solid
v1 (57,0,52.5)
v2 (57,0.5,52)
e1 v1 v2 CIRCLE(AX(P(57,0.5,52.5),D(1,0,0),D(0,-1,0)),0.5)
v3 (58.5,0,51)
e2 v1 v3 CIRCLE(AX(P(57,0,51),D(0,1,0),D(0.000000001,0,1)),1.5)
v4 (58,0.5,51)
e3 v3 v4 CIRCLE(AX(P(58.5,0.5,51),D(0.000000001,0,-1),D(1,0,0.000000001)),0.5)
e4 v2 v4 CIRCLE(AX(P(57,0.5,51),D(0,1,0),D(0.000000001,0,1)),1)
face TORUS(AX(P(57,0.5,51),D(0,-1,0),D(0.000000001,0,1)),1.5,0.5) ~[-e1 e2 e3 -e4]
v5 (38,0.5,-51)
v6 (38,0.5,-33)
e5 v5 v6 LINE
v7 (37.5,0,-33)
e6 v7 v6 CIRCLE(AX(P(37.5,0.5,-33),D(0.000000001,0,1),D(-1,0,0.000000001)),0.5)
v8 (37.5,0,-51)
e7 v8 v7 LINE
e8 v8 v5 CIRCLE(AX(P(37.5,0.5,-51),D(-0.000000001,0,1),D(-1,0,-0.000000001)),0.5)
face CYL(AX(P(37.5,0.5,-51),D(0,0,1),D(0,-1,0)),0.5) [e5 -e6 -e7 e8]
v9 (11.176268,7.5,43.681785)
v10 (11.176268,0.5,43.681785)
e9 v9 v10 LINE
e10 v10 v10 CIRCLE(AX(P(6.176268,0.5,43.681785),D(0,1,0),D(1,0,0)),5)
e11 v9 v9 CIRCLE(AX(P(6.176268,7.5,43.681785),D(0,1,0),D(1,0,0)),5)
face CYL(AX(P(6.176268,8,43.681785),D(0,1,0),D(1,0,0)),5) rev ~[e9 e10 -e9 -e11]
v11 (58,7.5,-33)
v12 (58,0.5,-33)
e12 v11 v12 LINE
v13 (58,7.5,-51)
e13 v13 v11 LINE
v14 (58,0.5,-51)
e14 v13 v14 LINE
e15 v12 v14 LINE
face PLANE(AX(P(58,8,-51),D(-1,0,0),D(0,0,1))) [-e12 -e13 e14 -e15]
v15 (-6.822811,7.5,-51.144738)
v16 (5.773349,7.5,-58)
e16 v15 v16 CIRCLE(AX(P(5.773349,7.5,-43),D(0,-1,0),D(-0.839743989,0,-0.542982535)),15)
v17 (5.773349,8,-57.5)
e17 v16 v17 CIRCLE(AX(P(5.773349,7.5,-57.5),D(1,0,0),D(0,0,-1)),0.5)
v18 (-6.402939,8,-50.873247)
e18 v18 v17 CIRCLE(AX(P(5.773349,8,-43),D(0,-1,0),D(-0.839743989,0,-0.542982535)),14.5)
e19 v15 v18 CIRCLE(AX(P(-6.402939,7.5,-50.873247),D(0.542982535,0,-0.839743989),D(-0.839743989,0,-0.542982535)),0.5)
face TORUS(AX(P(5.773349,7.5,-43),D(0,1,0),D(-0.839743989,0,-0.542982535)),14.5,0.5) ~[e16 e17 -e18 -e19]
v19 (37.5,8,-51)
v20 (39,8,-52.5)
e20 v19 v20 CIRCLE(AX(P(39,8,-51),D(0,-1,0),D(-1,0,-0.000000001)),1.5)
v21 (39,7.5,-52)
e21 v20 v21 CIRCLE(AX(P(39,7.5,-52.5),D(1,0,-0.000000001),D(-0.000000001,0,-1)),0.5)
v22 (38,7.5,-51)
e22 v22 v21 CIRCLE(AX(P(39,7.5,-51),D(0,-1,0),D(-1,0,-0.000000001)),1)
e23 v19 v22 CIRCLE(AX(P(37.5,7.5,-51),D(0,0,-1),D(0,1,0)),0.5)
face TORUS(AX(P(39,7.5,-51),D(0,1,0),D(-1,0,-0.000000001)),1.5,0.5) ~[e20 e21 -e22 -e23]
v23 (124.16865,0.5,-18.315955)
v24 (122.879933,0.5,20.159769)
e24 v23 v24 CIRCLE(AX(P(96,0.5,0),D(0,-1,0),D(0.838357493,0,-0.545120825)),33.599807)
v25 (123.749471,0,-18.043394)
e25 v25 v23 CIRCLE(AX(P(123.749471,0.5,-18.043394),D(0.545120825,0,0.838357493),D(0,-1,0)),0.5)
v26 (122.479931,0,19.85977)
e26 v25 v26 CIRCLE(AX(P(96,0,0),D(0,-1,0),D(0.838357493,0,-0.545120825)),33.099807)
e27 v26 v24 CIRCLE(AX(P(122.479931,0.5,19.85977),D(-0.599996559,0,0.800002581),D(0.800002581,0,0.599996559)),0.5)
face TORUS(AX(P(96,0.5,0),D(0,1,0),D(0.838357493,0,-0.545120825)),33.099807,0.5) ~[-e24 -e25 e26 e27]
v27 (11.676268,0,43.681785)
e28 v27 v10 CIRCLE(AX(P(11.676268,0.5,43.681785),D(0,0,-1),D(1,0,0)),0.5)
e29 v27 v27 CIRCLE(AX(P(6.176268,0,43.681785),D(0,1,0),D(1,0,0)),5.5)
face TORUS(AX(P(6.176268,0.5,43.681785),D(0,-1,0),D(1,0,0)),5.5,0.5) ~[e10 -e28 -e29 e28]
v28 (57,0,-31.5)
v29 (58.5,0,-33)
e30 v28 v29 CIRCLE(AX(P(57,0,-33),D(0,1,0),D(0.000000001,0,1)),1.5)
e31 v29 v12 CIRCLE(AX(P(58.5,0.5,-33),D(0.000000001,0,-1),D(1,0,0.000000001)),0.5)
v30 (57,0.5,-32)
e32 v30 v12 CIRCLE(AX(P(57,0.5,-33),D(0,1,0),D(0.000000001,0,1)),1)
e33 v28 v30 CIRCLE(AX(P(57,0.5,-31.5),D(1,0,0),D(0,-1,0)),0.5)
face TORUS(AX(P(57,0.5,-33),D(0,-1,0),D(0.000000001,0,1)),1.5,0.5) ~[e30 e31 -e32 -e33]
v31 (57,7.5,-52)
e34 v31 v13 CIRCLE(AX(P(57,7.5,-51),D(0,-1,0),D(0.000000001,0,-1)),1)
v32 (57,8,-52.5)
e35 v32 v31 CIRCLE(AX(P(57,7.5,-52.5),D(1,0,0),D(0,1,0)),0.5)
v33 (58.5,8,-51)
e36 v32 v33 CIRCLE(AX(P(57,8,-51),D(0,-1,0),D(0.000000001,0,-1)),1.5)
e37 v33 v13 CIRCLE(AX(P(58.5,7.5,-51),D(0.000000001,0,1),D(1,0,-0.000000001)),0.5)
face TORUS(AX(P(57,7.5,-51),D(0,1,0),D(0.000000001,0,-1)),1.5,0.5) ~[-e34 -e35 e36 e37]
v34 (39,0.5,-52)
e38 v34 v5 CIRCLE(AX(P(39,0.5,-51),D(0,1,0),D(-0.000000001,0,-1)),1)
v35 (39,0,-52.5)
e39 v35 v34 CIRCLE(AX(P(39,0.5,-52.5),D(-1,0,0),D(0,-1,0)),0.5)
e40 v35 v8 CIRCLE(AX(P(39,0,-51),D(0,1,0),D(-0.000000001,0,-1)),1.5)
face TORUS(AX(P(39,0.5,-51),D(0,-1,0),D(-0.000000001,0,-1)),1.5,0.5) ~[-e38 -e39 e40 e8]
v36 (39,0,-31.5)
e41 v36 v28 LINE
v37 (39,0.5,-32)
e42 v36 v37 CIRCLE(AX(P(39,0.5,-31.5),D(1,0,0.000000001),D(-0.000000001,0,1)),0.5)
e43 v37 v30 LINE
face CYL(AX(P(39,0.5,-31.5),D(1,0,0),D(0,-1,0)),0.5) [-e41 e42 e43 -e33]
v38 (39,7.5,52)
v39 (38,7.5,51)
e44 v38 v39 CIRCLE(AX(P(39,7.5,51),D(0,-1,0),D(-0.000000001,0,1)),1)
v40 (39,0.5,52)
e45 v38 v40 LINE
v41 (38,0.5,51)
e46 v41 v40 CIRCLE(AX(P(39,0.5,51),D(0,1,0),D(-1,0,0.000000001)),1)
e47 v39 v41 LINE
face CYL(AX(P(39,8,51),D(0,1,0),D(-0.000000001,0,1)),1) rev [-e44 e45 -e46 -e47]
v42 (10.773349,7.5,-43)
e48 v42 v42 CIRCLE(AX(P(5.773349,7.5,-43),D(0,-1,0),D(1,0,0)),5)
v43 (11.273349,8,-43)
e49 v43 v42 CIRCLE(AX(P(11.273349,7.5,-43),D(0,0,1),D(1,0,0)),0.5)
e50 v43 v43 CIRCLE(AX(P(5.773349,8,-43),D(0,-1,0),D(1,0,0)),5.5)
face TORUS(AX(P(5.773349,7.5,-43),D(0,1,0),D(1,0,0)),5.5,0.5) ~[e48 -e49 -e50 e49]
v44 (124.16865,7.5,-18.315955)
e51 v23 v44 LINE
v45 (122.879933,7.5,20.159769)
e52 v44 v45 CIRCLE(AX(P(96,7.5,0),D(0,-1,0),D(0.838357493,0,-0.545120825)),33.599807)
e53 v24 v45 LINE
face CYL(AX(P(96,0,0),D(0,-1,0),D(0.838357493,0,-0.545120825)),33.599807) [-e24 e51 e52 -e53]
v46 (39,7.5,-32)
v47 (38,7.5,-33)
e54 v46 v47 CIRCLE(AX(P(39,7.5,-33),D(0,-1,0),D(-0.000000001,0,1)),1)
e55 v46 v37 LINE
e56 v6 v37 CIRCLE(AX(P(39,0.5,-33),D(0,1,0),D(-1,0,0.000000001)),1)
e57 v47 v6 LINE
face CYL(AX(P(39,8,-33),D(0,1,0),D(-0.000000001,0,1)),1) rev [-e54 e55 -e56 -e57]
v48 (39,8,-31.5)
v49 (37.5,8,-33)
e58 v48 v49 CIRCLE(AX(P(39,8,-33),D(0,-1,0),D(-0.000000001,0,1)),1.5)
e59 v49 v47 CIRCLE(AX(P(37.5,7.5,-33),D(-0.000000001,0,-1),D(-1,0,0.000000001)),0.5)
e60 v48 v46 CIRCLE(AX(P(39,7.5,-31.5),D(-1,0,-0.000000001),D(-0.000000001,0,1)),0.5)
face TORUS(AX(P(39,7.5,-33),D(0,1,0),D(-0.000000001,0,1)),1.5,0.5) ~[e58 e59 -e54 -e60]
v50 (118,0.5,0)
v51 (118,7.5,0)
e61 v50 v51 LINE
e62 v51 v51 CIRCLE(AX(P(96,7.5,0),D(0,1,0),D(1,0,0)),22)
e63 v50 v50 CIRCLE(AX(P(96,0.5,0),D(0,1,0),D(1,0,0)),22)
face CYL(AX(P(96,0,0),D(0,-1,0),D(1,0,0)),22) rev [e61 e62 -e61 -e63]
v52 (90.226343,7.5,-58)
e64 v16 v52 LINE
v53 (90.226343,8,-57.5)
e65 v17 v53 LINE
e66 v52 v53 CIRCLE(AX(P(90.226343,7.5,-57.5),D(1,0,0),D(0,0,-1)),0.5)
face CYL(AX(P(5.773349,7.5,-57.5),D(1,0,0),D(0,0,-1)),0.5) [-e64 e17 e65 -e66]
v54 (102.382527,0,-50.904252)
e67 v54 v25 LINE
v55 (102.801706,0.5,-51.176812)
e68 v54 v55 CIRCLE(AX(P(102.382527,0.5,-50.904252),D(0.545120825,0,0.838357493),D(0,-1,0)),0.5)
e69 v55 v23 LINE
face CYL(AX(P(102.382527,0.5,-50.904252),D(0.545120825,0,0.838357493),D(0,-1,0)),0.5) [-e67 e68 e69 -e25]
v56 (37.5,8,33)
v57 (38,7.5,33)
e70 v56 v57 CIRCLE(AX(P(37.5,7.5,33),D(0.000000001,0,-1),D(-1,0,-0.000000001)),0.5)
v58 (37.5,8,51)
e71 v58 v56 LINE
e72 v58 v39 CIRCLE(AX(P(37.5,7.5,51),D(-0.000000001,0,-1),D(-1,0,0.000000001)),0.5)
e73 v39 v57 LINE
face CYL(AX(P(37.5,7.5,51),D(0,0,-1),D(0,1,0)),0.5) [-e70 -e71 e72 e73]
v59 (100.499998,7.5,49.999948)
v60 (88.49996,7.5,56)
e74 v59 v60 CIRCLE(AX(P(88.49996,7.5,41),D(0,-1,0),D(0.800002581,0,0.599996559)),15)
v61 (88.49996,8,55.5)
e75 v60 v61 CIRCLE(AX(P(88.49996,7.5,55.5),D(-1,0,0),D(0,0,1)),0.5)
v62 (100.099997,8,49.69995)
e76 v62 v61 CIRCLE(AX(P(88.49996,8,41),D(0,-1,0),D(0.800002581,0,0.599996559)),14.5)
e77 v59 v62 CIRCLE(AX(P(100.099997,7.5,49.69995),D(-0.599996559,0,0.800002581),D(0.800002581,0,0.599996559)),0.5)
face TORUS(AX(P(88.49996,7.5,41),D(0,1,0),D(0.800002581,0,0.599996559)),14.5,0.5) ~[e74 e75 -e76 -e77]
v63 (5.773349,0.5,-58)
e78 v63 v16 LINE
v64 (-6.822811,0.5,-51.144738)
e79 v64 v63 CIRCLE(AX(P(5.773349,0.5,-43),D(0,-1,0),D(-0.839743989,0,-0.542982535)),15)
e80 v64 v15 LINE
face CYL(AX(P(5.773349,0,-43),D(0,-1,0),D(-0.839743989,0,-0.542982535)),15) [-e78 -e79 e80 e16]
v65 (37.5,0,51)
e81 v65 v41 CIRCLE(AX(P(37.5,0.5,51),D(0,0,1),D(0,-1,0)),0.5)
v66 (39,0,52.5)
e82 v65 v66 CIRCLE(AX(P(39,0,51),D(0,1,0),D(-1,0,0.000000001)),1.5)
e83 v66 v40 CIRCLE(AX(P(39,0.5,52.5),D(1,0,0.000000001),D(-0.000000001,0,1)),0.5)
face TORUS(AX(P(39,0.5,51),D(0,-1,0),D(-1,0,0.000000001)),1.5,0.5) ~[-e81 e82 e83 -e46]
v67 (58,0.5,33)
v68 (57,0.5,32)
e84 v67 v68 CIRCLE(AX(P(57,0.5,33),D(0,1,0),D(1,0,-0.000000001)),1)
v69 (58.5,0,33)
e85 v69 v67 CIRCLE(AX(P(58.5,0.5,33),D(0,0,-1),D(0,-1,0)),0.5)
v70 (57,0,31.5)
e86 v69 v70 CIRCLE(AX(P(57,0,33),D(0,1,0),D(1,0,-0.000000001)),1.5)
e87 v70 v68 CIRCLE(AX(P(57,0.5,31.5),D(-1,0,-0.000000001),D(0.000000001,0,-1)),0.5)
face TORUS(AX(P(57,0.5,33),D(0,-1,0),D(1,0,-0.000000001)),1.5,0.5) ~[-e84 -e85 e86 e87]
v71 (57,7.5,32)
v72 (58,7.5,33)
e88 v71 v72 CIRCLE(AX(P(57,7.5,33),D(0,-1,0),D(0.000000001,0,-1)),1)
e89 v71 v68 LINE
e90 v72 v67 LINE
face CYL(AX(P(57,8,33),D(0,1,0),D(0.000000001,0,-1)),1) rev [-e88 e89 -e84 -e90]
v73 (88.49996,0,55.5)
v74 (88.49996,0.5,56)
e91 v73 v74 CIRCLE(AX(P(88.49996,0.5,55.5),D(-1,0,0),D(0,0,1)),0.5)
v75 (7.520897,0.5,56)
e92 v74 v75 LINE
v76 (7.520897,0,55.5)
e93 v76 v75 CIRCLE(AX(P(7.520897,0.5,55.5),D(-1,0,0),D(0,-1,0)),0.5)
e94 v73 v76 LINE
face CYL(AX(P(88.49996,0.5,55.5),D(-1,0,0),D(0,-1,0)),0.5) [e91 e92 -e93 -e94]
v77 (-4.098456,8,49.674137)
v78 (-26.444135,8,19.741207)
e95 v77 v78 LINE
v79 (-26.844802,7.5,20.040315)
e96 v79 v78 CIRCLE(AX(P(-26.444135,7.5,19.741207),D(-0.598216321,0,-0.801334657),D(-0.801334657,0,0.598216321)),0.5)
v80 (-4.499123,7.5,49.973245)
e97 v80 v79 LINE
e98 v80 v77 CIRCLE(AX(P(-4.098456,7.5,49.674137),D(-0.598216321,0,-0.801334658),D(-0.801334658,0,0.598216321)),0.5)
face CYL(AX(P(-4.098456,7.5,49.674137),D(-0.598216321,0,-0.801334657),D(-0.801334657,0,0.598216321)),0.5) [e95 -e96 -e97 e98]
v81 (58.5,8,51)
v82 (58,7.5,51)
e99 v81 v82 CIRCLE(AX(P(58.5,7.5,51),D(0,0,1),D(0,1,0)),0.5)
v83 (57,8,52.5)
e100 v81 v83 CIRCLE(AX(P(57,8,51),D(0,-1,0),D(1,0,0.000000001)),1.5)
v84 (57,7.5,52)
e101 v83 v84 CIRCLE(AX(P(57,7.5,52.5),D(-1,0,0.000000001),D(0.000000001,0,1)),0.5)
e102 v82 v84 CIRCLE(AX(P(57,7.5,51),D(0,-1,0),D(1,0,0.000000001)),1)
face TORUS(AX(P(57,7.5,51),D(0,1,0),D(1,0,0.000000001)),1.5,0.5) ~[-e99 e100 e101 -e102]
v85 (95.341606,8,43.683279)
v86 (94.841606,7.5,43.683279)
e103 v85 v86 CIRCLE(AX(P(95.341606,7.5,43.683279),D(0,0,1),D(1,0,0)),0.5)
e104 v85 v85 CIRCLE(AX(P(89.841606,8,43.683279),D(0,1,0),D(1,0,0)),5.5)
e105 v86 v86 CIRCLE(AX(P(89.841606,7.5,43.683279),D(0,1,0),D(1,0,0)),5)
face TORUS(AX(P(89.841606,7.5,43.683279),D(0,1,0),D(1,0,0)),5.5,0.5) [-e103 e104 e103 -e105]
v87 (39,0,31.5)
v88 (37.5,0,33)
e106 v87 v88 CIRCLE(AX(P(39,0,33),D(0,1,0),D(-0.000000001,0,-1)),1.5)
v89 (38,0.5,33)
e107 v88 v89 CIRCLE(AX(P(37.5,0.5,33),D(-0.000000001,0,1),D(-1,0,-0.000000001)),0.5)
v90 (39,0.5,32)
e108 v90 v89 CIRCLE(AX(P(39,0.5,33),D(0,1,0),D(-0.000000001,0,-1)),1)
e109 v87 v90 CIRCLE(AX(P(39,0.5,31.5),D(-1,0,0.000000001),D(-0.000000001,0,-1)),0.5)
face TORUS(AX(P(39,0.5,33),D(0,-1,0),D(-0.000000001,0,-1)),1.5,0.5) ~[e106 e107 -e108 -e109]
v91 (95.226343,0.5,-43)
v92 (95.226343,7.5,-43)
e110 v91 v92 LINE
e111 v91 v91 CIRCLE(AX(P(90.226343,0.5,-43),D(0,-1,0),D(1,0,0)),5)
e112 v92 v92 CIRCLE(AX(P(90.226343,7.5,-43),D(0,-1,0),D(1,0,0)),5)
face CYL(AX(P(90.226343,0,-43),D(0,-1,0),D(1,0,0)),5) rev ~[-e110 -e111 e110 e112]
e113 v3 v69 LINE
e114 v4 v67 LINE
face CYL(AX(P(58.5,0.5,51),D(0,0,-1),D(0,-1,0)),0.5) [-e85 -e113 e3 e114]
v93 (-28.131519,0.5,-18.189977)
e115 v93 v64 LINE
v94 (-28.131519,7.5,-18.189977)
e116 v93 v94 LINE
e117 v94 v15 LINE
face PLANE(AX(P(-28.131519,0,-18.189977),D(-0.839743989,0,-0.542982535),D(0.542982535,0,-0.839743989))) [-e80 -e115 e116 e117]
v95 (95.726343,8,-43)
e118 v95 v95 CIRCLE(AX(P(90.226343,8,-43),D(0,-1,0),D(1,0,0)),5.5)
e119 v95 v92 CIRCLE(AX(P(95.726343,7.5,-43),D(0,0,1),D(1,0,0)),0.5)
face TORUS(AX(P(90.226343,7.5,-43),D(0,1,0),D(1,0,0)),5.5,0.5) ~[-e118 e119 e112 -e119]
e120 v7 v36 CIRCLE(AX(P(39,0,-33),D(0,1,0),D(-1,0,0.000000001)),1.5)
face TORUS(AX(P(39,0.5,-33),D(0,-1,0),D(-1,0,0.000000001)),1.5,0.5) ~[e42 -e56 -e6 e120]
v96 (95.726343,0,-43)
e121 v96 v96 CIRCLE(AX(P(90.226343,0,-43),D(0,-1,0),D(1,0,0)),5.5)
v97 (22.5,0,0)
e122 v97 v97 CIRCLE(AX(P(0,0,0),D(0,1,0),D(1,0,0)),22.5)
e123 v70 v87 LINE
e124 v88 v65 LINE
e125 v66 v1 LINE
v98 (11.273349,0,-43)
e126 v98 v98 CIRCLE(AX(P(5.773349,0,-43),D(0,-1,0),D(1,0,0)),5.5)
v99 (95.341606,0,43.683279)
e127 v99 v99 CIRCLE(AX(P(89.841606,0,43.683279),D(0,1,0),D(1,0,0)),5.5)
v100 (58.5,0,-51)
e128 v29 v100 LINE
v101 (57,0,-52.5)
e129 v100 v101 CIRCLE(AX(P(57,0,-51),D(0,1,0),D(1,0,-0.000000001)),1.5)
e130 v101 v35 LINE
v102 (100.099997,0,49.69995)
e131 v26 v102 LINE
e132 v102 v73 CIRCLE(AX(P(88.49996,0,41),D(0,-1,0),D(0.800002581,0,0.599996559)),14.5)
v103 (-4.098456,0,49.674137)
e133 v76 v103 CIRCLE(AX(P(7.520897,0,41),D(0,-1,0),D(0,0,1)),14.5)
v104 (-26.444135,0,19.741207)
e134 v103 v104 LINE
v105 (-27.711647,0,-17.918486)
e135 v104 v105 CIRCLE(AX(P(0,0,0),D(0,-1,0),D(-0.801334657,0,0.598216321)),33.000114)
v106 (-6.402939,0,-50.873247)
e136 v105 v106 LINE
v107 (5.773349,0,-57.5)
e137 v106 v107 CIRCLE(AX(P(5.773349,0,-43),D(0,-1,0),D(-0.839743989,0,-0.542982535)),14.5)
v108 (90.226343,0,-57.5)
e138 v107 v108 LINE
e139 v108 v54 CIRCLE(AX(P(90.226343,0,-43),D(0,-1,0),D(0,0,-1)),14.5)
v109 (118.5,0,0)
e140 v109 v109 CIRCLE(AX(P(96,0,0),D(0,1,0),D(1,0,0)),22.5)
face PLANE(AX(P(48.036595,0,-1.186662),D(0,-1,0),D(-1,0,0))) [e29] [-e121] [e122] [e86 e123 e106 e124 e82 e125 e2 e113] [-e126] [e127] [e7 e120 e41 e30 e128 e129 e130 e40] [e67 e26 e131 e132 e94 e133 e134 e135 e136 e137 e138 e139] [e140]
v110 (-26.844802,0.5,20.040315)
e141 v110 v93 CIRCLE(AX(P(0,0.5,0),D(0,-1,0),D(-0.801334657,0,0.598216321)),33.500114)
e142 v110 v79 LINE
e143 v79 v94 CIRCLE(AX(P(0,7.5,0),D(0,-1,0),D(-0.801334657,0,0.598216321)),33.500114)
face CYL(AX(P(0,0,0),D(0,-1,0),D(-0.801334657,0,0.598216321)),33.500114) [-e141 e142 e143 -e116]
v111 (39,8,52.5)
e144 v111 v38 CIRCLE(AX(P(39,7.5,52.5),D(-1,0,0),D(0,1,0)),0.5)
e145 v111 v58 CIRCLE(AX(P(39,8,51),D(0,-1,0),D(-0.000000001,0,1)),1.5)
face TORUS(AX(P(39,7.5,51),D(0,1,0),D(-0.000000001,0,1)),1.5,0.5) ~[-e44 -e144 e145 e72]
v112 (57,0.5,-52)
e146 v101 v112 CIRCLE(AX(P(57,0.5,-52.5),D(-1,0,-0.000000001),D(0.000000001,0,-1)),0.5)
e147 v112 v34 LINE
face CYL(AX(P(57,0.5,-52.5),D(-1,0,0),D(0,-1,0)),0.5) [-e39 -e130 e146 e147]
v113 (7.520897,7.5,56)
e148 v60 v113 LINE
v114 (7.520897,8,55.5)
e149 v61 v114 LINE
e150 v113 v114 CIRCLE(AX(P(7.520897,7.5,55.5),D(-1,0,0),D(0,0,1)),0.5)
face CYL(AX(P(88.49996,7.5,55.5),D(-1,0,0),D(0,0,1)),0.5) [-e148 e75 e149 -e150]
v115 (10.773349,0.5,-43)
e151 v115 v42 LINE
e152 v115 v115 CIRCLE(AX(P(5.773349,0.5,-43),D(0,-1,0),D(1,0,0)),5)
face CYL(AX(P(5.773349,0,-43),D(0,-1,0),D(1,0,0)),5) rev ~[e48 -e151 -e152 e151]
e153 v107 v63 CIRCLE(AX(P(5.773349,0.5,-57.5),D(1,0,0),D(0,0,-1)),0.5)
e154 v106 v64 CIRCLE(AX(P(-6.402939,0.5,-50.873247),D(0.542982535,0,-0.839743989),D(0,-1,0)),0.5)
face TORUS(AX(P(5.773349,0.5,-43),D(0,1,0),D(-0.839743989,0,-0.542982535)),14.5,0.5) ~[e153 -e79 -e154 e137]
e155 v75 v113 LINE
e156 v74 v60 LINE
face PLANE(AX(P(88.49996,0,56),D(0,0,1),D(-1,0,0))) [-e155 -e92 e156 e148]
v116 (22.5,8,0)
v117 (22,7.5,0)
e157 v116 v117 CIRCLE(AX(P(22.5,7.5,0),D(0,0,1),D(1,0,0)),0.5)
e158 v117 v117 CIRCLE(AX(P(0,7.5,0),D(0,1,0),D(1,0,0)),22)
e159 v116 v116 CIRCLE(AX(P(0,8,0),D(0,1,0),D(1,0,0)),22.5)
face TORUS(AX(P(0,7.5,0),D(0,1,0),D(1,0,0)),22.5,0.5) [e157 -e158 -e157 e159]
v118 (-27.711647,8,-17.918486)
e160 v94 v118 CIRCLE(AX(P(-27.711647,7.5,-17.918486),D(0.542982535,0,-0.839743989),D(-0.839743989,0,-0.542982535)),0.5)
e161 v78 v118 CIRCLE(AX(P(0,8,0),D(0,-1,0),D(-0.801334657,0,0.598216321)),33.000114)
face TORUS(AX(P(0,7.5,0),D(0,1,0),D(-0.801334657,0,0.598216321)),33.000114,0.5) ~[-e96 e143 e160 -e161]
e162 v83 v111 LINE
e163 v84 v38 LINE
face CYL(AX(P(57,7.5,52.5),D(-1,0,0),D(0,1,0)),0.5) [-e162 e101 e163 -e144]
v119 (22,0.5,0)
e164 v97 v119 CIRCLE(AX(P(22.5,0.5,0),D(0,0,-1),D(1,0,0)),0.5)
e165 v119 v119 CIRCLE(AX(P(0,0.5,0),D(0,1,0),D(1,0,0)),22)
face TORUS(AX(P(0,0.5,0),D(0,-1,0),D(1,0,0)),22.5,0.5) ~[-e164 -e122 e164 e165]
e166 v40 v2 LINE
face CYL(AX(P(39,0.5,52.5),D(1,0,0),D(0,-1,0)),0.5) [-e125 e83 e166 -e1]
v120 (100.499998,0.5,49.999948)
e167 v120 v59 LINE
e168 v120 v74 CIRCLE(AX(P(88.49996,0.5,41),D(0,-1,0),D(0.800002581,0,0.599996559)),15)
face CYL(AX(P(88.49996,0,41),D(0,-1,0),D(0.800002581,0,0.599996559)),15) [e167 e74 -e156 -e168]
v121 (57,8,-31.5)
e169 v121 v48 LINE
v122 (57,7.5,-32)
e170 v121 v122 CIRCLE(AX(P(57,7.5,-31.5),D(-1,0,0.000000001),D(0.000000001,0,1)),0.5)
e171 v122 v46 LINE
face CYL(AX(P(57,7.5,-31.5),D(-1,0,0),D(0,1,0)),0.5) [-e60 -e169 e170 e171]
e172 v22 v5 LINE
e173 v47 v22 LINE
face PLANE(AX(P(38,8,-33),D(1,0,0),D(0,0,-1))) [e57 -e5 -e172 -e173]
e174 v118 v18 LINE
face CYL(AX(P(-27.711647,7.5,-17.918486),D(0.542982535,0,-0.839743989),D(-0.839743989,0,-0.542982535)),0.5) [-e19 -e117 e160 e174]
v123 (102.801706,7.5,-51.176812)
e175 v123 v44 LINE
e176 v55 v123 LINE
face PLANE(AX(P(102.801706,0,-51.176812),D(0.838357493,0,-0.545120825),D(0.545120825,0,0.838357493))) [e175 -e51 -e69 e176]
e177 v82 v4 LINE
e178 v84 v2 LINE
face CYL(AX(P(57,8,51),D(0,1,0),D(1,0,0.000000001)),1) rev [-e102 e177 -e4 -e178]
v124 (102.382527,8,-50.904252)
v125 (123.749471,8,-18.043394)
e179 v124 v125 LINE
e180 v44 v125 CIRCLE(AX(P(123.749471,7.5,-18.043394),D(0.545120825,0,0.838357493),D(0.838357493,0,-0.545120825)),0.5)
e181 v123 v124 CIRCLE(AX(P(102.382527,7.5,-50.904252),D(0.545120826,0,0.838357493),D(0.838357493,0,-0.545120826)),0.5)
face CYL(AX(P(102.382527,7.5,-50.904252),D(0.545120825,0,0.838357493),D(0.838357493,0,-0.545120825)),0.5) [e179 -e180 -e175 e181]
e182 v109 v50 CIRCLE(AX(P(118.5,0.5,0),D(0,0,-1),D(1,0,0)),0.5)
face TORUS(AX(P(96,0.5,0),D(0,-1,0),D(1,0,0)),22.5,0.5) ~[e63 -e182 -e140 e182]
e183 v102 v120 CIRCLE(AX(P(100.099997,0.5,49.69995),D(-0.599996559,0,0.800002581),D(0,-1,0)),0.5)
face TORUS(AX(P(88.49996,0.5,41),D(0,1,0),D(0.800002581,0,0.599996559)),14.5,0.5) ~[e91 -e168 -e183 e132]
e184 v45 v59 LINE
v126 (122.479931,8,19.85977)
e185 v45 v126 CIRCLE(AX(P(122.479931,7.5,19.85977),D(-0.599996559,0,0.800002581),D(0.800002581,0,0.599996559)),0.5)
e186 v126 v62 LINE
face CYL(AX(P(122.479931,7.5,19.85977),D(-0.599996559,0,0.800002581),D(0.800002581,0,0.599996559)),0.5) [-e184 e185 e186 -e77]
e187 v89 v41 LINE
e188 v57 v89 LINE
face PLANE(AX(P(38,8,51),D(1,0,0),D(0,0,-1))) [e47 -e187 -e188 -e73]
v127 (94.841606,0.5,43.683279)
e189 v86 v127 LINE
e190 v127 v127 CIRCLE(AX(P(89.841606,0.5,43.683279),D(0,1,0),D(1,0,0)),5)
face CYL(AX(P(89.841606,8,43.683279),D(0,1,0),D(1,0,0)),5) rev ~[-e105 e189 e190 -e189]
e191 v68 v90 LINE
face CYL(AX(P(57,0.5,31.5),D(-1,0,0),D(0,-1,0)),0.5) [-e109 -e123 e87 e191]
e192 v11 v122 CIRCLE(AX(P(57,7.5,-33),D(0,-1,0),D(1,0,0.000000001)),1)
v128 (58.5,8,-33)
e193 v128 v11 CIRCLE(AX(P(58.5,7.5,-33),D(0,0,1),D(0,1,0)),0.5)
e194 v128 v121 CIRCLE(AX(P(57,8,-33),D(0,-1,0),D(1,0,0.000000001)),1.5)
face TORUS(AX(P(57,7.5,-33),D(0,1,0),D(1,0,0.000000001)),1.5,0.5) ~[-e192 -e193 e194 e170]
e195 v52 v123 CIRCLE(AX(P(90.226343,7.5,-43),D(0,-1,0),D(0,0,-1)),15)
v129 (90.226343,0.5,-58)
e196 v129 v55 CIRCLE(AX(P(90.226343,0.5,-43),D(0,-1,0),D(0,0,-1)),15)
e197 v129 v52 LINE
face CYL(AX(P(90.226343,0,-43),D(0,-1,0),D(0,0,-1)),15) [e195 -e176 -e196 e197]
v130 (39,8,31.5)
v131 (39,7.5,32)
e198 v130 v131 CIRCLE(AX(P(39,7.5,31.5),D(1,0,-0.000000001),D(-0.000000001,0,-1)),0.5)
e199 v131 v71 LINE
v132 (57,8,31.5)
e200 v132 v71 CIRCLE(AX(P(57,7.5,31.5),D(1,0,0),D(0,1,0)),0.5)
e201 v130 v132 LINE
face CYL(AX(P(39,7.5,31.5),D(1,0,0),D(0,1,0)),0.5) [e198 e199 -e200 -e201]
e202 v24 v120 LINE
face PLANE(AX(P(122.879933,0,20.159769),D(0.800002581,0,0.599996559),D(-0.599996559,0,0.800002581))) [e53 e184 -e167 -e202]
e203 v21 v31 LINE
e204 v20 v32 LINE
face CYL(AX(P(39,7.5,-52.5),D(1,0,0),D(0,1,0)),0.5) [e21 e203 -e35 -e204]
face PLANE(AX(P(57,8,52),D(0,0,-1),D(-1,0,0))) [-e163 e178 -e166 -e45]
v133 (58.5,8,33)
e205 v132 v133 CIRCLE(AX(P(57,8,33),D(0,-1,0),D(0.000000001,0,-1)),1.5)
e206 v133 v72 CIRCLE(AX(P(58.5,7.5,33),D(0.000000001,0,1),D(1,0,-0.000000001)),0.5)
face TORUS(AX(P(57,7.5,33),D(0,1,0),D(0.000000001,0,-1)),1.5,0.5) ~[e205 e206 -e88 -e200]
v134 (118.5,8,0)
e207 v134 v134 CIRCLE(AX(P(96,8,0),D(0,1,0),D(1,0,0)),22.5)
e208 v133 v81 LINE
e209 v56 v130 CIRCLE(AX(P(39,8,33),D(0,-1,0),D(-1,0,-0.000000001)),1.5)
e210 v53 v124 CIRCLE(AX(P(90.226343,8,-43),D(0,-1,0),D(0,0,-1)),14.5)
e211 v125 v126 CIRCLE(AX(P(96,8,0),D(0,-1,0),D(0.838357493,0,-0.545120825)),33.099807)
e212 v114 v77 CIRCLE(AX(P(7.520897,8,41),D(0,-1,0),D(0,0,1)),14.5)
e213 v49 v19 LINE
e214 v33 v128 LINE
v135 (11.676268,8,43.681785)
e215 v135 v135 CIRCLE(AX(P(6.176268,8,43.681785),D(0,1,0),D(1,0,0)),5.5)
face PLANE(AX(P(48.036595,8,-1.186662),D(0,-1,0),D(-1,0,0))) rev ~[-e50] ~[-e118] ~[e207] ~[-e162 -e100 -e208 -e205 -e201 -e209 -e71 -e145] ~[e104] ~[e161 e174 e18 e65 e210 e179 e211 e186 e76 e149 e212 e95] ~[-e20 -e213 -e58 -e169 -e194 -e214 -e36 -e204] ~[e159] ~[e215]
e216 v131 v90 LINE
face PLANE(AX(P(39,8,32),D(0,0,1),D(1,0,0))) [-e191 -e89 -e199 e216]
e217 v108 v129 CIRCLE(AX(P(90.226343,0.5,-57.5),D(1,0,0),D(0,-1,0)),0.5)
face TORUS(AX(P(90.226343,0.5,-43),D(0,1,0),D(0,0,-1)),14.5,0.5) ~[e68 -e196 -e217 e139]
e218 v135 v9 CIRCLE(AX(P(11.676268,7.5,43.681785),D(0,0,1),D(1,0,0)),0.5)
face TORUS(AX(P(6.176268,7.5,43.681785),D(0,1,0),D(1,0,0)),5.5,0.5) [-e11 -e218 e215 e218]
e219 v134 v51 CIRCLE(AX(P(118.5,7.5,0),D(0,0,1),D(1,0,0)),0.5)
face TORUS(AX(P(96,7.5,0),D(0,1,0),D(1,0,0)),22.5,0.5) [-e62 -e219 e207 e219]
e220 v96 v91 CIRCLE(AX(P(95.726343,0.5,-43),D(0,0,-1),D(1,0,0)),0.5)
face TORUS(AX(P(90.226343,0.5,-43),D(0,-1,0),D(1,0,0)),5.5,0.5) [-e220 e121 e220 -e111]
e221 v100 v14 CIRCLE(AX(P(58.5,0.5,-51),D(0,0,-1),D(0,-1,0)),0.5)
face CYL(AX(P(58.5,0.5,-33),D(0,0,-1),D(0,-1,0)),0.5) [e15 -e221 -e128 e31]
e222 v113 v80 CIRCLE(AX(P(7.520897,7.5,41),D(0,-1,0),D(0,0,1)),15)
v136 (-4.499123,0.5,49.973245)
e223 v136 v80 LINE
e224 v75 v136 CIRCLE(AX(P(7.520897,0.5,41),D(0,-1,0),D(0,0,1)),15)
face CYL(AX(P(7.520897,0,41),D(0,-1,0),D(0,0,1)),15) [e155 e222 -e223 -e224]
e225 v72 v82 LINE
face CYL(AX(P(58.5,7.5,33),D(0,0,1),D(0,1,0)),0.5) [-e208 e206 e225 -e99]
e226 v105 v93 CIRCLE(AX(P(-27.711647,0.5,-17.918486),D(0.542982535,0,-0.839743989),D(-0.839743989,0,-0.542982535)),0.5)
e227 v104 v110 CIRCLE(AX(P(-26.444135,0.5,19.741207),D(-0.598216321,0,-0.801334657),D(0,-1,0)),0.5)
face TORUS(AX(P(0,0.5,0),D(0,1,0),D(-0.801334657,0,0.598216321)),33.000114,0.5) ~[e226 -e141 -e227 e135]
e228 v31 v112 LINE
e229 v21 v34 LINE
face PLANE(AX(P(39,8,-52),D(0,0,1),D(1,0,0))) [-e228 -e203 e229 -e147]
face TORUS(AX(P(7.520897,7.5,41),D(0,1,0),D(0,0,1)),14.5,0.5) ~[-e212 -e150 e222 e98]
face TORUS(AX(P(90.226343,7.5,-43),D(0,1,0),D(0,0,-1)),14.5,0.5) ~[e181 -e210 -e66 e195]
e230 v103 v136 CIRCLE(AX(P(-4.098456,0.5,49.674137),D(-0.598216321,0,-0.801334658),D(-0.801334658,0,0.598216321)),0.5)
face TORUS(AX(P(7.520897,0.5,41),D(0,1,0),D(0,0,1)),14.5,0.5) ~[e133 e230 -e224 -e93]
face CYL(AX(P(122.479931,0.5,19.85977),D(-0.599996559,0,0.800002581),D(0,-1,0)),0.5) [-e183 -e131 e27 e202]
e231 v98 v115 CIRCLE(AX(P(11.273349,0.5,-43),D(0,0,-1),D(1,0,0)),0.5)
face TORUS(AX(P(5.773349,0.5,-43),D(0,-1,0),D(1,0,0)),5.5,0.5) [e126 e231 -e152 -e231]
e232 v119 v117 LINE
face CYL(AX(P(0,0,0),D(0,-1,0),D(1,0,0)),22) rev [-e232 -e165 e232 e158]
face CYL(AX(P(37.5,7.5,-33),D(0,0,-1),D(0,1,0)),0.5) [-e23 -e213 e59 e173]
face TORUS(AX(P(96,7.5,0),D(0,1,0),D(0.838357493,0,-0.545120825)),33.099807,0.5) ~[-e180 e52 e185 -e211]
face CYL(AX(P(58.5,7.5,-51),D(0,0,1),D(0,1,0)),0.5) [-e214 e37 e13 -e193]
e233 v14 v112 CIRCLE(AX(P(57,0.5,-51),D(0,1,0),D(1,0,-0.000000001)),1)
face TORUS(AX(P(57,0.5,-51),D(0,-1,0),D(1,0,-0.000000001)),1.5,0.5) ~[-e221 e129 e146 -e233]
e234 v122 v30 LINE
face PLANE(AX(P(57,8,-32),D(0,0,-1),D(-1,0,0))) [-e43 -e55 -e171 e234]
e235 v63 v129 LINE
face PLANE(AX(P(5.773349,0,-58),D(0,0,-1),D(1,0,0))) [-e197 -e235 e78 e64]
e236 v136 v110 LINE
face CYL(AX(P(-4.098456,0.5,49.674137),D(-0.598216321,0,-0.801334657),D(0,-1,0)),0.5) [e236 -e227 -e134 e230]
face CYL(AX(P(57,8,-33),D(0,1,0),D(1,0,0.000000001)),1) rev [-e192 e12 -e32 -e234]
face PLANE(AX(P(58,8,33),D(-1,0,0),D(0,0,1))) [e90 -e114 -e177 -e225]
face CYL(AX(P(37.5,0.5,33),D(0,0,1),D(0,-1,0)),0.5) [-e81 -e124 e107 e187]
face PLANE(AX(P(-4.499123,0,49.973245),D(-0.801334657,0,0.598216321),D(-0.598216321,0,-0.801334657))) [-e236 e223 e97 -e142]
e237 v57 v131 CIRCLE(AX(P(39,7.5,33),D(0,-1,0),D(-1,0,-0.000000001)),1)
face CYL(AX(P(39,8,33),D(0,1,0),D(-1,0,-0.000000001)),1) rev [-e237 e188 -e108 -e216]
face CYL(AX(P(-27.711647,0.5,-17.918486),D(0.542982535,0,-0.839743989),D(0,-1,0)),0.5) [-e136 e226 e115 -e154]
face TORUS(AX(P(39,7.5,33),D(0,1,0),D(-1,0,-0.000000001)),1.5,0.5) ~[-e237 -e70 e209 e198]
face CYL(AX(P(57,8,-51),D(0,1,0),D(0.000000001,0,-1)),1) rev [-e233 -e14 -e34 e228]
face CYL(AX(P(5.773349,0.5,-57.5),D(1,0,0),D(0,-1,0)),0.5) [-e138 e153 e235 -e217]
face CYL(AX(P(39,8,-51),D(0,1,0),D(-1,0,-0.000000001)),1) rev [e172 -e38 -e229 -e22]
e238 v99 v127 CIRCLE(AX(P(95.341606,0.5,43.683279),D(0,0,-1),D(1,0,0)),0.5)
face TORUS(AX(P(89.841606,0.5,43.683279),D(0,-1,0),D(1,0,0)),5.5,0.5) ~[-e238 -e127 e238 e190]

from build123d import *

# Parameters (mm, degrees)
SKETCH_1_R          = 22
EXTRUDE_1_DEPTH     = 8
SKETCH_2_R          = 5
CUT_EXTRUDE_1_DEPTH = 9
SKETCH_4_R          = 5
CUT_EXTRUDE_2_DEPTH = 9
CUT_EXTRUDE_3_DEPTH = 9
FILLET_1_R          = 0.5


with BuildPart() as part:
    # 草图1 → 凸台-拉伸1 (new body)
    with BuildSketch(Plane(origin=(0, 0, 0), x_dir=(1, 0, 0), z_dir=(0, 1, 0))):
        with BuildLine():
            Line((5.773348871, 58), (90.226343487, 58))
            ThreePointArc((90.226343487, 58), (97.379937488, 56.184312377), (102.801705878, 51.176812382))
            Line((102.801705878, 51.176812382), (124.168650202, 18.315954689))
            ThreePointArc((124.168650202, 18.315954689), (129.580975857, -1.124771476), (122.879932553, -20.159768757))
            Line((122.879932553, -20.159768757), (100.499998387, -49.999948383))
            ThreePointArc((100.499998387, -49.999948383), (95.208192461, -54.416393438), (88.499959674, -56))
            Line((88.499959674, -56), (7.520896703, -56))
            ThreePointArc((7.520896703, -56), (0.797752805, -54.408927479), (-4.499123157, -49.973244817))
            Line((-4.499123157, -49.973244817), (-26.844802361, -20.040314944))
            ThreePointArc((-26.844802361, -20.040314944), (-33.481155729, -1.126875307), (-28.131519346, 18.189976804))
            Line((-28.131519346, 18.189976804), (-6.822810963, 51.144738021))
            ThreePointArc((-6.822810963, 51.144738021), (-1.397039183, 56.175186342), (5.773348871, 58))
        make_face()
        Circle(SKETCH_1_R, mode=Mode.SUBTRACT)
        with Locations((96, 0)):
            Circle(SKETCH_1_R, mode=Mode.SUBTRACT)
    extrude(amount=EXTRUDE_1_DEPTH)

    # 草图2 → 切除-拉伸1 (cut, through all)
    with BuildSketch(Plane.XZ):
        with Locations((5.773348871, -43)):
            Circle(SKETCH_2_R)
        with Locations((90.226343487, -43)):
            Circle(SKETCH_2_R)
    extrude(amount=-CUT_EXTRUDE_1_DEPTH, mode=Mode.SUBTRACT)

    # 草图4 → 切除-拉伸2 (cut, through all)
    with BuildSketch(Plane(origin=(0, 8, 0), x_dir=(1, 0, 0), z_dir=(0, 1, 0))):
        with Locations((6.176267924, -43.681785496)):
            Circle(SKETCH_4_R)
        with Locations((89.841606232, -43.683278688)):
            Circle(SKETCH_4_R)
    extrude(amount=-CUT_EXTRUDE_2_DEPTH, mode=Mode.SUBTRACT)

    # 草图5 → 切除-拉伸3 (cut, through all)
    with BuildSketch(Plane(origin=(0, 8, 0), x_dir=(1, 0, 0), z_dir=(0, 1, 0))):
        with BuildLine():
            Line((39, -32), (57, -32))
            ThreePointArc((57, -32), (57.707106781, -32.292893219), (58, -33))
            Line((58, -33), (58, -51))
            ThreePointArc((58, -51), (57.707106781, -51.707106781), (57, -52))
            Line((57, -52), (39, -52))
            ThreePointArc((39, -52), (38.292893219, -51.707106781), (38, -51))
            Line((38, -51), (38, -33))
            ThreePointArc((38, -33), (38.292893219, -32.292893219), (39, -32))
        make_face()
        with BuildLine():
            Line((39, 52), (57, 52))
            ThreePointArc((57, 52), (57.707106781, 51.707106781), (58, 51))
            Line((58, 51), (58, 33))
            ThreePointArc((58, 33), (57.707106781, 32.292893219), (57, 32))
            Line((57, 32), (39, 32))
            ThreePointArc((39, 32), (38.292893219, 32.292893219), (38, 33))
            Line((38, 33), (38, 51))
            ThreePointArc((38, 51), (38.292893219, 51.707106781), (39, 52))
        make_face()
    extrude(amount=-CUT_EXTRUDE_3_DEPTH, mode=Mode.SUBTRACT)

    # 圆角1
    fillet_1_edges = [part.edges().sort_by_distance(p)[0] for p in [
        (113.48517804, 0, -34.746383536),
        (129.580975857, 0, 1.124771476),
        (-1.397039183, 8, -56.175186342),
        (111.68996547, 0, 35.07985857),
        (95.208192461, 0, 54.416393438),
        (48.010428189, 0, 56),
        (0.797752805, 0, 54.408927479),
        (-15.671962759, 0, 35.006779881),
        (-33.481155729, 0, 1.126875307),
        (-17.477165155, 0, -34.667357413),
        (-1.397039183, 0, -56.175186342),
        (47.999846179, 0, -58),
        (97.379937488, 0, -56.184312377),
        (-17.477165155, 8, -34.667357413),
        (-33.481155729, 8, 1.126875307),
        (-15.671962759, 8, 35.006779881),
        (0.797752805, 8, 54.408927479),
        (-22, 0, 0),
        (-22, 8, 0),
        (48.010428189, 8, 56),
        (74, 0, 0),
        (74, 8, 0),
        (95.208192461, 8, 54.416393438),
        (111.68996547, 8, 35.07985857),
        (129.580975857, 8, 1.124771476),
        (0.773348871, 8, -43),
        (0.773348871, 0, -43),
        (85.226343487, 8, -43),
        (85.226343487, 0, -43),
        (113.48517804, 8, -34.746383536),
        (97.379937488, 8, -56.184312377),
        (1.176267924, 0, 43.681785496),
        (1.176267924, 8, 43.681785496),
        (84.841606232, 0, 43.683278688),
        (84.841606232, 8, 43.683278688),
        (38.292893219, 0, -32.292893219),
        (38, 0, -42),
        (38.292893219, 0, -51.707106781),
        (48, 0, -52),
        (57.707106781, 0, -51.707106781),
        (58, 0, -42),
        (57.707106781, 0, -32.292893219),
        (48, 0, -32),
        (38.292893219, 8, -32.292893219),
        (48, 8, -32),
        (57.707106781, 8, -32.292893219),
        (58, 8, -42),
        (57.707106781, 8, -51.707106781),
        (48, 8, -52),
        (38.292893219, 8, -51.707106781),
        (38, 8, -42),
        (47.999846179, 8, -58),
        (38.292893219, 0, 32.292893219),
        (48, 0, 32),
        (57.707106781, 0, 32.292893219),
        (58, 0, 42),
        (57.707106781, 0, 51.707106781),
        (48, 0, 52),
        (38.292893219, 0, 51.707106781),
        (38, 0, 42),
        (38.292893219, 8, 32.292893219),
        (38, 8, 42),
        (38.292893219, 8, 51.707106781),
        (48, 8, 52),
        (57.707106781, 8, 51.707106781),
        (58, 8, 42),
        (57.707106781, 8, 32.292893219),
        (48, 8, 32),
    ]]
    fillet(fillet_1_edges, radius=FILLET_1_R)


solid = part.part
